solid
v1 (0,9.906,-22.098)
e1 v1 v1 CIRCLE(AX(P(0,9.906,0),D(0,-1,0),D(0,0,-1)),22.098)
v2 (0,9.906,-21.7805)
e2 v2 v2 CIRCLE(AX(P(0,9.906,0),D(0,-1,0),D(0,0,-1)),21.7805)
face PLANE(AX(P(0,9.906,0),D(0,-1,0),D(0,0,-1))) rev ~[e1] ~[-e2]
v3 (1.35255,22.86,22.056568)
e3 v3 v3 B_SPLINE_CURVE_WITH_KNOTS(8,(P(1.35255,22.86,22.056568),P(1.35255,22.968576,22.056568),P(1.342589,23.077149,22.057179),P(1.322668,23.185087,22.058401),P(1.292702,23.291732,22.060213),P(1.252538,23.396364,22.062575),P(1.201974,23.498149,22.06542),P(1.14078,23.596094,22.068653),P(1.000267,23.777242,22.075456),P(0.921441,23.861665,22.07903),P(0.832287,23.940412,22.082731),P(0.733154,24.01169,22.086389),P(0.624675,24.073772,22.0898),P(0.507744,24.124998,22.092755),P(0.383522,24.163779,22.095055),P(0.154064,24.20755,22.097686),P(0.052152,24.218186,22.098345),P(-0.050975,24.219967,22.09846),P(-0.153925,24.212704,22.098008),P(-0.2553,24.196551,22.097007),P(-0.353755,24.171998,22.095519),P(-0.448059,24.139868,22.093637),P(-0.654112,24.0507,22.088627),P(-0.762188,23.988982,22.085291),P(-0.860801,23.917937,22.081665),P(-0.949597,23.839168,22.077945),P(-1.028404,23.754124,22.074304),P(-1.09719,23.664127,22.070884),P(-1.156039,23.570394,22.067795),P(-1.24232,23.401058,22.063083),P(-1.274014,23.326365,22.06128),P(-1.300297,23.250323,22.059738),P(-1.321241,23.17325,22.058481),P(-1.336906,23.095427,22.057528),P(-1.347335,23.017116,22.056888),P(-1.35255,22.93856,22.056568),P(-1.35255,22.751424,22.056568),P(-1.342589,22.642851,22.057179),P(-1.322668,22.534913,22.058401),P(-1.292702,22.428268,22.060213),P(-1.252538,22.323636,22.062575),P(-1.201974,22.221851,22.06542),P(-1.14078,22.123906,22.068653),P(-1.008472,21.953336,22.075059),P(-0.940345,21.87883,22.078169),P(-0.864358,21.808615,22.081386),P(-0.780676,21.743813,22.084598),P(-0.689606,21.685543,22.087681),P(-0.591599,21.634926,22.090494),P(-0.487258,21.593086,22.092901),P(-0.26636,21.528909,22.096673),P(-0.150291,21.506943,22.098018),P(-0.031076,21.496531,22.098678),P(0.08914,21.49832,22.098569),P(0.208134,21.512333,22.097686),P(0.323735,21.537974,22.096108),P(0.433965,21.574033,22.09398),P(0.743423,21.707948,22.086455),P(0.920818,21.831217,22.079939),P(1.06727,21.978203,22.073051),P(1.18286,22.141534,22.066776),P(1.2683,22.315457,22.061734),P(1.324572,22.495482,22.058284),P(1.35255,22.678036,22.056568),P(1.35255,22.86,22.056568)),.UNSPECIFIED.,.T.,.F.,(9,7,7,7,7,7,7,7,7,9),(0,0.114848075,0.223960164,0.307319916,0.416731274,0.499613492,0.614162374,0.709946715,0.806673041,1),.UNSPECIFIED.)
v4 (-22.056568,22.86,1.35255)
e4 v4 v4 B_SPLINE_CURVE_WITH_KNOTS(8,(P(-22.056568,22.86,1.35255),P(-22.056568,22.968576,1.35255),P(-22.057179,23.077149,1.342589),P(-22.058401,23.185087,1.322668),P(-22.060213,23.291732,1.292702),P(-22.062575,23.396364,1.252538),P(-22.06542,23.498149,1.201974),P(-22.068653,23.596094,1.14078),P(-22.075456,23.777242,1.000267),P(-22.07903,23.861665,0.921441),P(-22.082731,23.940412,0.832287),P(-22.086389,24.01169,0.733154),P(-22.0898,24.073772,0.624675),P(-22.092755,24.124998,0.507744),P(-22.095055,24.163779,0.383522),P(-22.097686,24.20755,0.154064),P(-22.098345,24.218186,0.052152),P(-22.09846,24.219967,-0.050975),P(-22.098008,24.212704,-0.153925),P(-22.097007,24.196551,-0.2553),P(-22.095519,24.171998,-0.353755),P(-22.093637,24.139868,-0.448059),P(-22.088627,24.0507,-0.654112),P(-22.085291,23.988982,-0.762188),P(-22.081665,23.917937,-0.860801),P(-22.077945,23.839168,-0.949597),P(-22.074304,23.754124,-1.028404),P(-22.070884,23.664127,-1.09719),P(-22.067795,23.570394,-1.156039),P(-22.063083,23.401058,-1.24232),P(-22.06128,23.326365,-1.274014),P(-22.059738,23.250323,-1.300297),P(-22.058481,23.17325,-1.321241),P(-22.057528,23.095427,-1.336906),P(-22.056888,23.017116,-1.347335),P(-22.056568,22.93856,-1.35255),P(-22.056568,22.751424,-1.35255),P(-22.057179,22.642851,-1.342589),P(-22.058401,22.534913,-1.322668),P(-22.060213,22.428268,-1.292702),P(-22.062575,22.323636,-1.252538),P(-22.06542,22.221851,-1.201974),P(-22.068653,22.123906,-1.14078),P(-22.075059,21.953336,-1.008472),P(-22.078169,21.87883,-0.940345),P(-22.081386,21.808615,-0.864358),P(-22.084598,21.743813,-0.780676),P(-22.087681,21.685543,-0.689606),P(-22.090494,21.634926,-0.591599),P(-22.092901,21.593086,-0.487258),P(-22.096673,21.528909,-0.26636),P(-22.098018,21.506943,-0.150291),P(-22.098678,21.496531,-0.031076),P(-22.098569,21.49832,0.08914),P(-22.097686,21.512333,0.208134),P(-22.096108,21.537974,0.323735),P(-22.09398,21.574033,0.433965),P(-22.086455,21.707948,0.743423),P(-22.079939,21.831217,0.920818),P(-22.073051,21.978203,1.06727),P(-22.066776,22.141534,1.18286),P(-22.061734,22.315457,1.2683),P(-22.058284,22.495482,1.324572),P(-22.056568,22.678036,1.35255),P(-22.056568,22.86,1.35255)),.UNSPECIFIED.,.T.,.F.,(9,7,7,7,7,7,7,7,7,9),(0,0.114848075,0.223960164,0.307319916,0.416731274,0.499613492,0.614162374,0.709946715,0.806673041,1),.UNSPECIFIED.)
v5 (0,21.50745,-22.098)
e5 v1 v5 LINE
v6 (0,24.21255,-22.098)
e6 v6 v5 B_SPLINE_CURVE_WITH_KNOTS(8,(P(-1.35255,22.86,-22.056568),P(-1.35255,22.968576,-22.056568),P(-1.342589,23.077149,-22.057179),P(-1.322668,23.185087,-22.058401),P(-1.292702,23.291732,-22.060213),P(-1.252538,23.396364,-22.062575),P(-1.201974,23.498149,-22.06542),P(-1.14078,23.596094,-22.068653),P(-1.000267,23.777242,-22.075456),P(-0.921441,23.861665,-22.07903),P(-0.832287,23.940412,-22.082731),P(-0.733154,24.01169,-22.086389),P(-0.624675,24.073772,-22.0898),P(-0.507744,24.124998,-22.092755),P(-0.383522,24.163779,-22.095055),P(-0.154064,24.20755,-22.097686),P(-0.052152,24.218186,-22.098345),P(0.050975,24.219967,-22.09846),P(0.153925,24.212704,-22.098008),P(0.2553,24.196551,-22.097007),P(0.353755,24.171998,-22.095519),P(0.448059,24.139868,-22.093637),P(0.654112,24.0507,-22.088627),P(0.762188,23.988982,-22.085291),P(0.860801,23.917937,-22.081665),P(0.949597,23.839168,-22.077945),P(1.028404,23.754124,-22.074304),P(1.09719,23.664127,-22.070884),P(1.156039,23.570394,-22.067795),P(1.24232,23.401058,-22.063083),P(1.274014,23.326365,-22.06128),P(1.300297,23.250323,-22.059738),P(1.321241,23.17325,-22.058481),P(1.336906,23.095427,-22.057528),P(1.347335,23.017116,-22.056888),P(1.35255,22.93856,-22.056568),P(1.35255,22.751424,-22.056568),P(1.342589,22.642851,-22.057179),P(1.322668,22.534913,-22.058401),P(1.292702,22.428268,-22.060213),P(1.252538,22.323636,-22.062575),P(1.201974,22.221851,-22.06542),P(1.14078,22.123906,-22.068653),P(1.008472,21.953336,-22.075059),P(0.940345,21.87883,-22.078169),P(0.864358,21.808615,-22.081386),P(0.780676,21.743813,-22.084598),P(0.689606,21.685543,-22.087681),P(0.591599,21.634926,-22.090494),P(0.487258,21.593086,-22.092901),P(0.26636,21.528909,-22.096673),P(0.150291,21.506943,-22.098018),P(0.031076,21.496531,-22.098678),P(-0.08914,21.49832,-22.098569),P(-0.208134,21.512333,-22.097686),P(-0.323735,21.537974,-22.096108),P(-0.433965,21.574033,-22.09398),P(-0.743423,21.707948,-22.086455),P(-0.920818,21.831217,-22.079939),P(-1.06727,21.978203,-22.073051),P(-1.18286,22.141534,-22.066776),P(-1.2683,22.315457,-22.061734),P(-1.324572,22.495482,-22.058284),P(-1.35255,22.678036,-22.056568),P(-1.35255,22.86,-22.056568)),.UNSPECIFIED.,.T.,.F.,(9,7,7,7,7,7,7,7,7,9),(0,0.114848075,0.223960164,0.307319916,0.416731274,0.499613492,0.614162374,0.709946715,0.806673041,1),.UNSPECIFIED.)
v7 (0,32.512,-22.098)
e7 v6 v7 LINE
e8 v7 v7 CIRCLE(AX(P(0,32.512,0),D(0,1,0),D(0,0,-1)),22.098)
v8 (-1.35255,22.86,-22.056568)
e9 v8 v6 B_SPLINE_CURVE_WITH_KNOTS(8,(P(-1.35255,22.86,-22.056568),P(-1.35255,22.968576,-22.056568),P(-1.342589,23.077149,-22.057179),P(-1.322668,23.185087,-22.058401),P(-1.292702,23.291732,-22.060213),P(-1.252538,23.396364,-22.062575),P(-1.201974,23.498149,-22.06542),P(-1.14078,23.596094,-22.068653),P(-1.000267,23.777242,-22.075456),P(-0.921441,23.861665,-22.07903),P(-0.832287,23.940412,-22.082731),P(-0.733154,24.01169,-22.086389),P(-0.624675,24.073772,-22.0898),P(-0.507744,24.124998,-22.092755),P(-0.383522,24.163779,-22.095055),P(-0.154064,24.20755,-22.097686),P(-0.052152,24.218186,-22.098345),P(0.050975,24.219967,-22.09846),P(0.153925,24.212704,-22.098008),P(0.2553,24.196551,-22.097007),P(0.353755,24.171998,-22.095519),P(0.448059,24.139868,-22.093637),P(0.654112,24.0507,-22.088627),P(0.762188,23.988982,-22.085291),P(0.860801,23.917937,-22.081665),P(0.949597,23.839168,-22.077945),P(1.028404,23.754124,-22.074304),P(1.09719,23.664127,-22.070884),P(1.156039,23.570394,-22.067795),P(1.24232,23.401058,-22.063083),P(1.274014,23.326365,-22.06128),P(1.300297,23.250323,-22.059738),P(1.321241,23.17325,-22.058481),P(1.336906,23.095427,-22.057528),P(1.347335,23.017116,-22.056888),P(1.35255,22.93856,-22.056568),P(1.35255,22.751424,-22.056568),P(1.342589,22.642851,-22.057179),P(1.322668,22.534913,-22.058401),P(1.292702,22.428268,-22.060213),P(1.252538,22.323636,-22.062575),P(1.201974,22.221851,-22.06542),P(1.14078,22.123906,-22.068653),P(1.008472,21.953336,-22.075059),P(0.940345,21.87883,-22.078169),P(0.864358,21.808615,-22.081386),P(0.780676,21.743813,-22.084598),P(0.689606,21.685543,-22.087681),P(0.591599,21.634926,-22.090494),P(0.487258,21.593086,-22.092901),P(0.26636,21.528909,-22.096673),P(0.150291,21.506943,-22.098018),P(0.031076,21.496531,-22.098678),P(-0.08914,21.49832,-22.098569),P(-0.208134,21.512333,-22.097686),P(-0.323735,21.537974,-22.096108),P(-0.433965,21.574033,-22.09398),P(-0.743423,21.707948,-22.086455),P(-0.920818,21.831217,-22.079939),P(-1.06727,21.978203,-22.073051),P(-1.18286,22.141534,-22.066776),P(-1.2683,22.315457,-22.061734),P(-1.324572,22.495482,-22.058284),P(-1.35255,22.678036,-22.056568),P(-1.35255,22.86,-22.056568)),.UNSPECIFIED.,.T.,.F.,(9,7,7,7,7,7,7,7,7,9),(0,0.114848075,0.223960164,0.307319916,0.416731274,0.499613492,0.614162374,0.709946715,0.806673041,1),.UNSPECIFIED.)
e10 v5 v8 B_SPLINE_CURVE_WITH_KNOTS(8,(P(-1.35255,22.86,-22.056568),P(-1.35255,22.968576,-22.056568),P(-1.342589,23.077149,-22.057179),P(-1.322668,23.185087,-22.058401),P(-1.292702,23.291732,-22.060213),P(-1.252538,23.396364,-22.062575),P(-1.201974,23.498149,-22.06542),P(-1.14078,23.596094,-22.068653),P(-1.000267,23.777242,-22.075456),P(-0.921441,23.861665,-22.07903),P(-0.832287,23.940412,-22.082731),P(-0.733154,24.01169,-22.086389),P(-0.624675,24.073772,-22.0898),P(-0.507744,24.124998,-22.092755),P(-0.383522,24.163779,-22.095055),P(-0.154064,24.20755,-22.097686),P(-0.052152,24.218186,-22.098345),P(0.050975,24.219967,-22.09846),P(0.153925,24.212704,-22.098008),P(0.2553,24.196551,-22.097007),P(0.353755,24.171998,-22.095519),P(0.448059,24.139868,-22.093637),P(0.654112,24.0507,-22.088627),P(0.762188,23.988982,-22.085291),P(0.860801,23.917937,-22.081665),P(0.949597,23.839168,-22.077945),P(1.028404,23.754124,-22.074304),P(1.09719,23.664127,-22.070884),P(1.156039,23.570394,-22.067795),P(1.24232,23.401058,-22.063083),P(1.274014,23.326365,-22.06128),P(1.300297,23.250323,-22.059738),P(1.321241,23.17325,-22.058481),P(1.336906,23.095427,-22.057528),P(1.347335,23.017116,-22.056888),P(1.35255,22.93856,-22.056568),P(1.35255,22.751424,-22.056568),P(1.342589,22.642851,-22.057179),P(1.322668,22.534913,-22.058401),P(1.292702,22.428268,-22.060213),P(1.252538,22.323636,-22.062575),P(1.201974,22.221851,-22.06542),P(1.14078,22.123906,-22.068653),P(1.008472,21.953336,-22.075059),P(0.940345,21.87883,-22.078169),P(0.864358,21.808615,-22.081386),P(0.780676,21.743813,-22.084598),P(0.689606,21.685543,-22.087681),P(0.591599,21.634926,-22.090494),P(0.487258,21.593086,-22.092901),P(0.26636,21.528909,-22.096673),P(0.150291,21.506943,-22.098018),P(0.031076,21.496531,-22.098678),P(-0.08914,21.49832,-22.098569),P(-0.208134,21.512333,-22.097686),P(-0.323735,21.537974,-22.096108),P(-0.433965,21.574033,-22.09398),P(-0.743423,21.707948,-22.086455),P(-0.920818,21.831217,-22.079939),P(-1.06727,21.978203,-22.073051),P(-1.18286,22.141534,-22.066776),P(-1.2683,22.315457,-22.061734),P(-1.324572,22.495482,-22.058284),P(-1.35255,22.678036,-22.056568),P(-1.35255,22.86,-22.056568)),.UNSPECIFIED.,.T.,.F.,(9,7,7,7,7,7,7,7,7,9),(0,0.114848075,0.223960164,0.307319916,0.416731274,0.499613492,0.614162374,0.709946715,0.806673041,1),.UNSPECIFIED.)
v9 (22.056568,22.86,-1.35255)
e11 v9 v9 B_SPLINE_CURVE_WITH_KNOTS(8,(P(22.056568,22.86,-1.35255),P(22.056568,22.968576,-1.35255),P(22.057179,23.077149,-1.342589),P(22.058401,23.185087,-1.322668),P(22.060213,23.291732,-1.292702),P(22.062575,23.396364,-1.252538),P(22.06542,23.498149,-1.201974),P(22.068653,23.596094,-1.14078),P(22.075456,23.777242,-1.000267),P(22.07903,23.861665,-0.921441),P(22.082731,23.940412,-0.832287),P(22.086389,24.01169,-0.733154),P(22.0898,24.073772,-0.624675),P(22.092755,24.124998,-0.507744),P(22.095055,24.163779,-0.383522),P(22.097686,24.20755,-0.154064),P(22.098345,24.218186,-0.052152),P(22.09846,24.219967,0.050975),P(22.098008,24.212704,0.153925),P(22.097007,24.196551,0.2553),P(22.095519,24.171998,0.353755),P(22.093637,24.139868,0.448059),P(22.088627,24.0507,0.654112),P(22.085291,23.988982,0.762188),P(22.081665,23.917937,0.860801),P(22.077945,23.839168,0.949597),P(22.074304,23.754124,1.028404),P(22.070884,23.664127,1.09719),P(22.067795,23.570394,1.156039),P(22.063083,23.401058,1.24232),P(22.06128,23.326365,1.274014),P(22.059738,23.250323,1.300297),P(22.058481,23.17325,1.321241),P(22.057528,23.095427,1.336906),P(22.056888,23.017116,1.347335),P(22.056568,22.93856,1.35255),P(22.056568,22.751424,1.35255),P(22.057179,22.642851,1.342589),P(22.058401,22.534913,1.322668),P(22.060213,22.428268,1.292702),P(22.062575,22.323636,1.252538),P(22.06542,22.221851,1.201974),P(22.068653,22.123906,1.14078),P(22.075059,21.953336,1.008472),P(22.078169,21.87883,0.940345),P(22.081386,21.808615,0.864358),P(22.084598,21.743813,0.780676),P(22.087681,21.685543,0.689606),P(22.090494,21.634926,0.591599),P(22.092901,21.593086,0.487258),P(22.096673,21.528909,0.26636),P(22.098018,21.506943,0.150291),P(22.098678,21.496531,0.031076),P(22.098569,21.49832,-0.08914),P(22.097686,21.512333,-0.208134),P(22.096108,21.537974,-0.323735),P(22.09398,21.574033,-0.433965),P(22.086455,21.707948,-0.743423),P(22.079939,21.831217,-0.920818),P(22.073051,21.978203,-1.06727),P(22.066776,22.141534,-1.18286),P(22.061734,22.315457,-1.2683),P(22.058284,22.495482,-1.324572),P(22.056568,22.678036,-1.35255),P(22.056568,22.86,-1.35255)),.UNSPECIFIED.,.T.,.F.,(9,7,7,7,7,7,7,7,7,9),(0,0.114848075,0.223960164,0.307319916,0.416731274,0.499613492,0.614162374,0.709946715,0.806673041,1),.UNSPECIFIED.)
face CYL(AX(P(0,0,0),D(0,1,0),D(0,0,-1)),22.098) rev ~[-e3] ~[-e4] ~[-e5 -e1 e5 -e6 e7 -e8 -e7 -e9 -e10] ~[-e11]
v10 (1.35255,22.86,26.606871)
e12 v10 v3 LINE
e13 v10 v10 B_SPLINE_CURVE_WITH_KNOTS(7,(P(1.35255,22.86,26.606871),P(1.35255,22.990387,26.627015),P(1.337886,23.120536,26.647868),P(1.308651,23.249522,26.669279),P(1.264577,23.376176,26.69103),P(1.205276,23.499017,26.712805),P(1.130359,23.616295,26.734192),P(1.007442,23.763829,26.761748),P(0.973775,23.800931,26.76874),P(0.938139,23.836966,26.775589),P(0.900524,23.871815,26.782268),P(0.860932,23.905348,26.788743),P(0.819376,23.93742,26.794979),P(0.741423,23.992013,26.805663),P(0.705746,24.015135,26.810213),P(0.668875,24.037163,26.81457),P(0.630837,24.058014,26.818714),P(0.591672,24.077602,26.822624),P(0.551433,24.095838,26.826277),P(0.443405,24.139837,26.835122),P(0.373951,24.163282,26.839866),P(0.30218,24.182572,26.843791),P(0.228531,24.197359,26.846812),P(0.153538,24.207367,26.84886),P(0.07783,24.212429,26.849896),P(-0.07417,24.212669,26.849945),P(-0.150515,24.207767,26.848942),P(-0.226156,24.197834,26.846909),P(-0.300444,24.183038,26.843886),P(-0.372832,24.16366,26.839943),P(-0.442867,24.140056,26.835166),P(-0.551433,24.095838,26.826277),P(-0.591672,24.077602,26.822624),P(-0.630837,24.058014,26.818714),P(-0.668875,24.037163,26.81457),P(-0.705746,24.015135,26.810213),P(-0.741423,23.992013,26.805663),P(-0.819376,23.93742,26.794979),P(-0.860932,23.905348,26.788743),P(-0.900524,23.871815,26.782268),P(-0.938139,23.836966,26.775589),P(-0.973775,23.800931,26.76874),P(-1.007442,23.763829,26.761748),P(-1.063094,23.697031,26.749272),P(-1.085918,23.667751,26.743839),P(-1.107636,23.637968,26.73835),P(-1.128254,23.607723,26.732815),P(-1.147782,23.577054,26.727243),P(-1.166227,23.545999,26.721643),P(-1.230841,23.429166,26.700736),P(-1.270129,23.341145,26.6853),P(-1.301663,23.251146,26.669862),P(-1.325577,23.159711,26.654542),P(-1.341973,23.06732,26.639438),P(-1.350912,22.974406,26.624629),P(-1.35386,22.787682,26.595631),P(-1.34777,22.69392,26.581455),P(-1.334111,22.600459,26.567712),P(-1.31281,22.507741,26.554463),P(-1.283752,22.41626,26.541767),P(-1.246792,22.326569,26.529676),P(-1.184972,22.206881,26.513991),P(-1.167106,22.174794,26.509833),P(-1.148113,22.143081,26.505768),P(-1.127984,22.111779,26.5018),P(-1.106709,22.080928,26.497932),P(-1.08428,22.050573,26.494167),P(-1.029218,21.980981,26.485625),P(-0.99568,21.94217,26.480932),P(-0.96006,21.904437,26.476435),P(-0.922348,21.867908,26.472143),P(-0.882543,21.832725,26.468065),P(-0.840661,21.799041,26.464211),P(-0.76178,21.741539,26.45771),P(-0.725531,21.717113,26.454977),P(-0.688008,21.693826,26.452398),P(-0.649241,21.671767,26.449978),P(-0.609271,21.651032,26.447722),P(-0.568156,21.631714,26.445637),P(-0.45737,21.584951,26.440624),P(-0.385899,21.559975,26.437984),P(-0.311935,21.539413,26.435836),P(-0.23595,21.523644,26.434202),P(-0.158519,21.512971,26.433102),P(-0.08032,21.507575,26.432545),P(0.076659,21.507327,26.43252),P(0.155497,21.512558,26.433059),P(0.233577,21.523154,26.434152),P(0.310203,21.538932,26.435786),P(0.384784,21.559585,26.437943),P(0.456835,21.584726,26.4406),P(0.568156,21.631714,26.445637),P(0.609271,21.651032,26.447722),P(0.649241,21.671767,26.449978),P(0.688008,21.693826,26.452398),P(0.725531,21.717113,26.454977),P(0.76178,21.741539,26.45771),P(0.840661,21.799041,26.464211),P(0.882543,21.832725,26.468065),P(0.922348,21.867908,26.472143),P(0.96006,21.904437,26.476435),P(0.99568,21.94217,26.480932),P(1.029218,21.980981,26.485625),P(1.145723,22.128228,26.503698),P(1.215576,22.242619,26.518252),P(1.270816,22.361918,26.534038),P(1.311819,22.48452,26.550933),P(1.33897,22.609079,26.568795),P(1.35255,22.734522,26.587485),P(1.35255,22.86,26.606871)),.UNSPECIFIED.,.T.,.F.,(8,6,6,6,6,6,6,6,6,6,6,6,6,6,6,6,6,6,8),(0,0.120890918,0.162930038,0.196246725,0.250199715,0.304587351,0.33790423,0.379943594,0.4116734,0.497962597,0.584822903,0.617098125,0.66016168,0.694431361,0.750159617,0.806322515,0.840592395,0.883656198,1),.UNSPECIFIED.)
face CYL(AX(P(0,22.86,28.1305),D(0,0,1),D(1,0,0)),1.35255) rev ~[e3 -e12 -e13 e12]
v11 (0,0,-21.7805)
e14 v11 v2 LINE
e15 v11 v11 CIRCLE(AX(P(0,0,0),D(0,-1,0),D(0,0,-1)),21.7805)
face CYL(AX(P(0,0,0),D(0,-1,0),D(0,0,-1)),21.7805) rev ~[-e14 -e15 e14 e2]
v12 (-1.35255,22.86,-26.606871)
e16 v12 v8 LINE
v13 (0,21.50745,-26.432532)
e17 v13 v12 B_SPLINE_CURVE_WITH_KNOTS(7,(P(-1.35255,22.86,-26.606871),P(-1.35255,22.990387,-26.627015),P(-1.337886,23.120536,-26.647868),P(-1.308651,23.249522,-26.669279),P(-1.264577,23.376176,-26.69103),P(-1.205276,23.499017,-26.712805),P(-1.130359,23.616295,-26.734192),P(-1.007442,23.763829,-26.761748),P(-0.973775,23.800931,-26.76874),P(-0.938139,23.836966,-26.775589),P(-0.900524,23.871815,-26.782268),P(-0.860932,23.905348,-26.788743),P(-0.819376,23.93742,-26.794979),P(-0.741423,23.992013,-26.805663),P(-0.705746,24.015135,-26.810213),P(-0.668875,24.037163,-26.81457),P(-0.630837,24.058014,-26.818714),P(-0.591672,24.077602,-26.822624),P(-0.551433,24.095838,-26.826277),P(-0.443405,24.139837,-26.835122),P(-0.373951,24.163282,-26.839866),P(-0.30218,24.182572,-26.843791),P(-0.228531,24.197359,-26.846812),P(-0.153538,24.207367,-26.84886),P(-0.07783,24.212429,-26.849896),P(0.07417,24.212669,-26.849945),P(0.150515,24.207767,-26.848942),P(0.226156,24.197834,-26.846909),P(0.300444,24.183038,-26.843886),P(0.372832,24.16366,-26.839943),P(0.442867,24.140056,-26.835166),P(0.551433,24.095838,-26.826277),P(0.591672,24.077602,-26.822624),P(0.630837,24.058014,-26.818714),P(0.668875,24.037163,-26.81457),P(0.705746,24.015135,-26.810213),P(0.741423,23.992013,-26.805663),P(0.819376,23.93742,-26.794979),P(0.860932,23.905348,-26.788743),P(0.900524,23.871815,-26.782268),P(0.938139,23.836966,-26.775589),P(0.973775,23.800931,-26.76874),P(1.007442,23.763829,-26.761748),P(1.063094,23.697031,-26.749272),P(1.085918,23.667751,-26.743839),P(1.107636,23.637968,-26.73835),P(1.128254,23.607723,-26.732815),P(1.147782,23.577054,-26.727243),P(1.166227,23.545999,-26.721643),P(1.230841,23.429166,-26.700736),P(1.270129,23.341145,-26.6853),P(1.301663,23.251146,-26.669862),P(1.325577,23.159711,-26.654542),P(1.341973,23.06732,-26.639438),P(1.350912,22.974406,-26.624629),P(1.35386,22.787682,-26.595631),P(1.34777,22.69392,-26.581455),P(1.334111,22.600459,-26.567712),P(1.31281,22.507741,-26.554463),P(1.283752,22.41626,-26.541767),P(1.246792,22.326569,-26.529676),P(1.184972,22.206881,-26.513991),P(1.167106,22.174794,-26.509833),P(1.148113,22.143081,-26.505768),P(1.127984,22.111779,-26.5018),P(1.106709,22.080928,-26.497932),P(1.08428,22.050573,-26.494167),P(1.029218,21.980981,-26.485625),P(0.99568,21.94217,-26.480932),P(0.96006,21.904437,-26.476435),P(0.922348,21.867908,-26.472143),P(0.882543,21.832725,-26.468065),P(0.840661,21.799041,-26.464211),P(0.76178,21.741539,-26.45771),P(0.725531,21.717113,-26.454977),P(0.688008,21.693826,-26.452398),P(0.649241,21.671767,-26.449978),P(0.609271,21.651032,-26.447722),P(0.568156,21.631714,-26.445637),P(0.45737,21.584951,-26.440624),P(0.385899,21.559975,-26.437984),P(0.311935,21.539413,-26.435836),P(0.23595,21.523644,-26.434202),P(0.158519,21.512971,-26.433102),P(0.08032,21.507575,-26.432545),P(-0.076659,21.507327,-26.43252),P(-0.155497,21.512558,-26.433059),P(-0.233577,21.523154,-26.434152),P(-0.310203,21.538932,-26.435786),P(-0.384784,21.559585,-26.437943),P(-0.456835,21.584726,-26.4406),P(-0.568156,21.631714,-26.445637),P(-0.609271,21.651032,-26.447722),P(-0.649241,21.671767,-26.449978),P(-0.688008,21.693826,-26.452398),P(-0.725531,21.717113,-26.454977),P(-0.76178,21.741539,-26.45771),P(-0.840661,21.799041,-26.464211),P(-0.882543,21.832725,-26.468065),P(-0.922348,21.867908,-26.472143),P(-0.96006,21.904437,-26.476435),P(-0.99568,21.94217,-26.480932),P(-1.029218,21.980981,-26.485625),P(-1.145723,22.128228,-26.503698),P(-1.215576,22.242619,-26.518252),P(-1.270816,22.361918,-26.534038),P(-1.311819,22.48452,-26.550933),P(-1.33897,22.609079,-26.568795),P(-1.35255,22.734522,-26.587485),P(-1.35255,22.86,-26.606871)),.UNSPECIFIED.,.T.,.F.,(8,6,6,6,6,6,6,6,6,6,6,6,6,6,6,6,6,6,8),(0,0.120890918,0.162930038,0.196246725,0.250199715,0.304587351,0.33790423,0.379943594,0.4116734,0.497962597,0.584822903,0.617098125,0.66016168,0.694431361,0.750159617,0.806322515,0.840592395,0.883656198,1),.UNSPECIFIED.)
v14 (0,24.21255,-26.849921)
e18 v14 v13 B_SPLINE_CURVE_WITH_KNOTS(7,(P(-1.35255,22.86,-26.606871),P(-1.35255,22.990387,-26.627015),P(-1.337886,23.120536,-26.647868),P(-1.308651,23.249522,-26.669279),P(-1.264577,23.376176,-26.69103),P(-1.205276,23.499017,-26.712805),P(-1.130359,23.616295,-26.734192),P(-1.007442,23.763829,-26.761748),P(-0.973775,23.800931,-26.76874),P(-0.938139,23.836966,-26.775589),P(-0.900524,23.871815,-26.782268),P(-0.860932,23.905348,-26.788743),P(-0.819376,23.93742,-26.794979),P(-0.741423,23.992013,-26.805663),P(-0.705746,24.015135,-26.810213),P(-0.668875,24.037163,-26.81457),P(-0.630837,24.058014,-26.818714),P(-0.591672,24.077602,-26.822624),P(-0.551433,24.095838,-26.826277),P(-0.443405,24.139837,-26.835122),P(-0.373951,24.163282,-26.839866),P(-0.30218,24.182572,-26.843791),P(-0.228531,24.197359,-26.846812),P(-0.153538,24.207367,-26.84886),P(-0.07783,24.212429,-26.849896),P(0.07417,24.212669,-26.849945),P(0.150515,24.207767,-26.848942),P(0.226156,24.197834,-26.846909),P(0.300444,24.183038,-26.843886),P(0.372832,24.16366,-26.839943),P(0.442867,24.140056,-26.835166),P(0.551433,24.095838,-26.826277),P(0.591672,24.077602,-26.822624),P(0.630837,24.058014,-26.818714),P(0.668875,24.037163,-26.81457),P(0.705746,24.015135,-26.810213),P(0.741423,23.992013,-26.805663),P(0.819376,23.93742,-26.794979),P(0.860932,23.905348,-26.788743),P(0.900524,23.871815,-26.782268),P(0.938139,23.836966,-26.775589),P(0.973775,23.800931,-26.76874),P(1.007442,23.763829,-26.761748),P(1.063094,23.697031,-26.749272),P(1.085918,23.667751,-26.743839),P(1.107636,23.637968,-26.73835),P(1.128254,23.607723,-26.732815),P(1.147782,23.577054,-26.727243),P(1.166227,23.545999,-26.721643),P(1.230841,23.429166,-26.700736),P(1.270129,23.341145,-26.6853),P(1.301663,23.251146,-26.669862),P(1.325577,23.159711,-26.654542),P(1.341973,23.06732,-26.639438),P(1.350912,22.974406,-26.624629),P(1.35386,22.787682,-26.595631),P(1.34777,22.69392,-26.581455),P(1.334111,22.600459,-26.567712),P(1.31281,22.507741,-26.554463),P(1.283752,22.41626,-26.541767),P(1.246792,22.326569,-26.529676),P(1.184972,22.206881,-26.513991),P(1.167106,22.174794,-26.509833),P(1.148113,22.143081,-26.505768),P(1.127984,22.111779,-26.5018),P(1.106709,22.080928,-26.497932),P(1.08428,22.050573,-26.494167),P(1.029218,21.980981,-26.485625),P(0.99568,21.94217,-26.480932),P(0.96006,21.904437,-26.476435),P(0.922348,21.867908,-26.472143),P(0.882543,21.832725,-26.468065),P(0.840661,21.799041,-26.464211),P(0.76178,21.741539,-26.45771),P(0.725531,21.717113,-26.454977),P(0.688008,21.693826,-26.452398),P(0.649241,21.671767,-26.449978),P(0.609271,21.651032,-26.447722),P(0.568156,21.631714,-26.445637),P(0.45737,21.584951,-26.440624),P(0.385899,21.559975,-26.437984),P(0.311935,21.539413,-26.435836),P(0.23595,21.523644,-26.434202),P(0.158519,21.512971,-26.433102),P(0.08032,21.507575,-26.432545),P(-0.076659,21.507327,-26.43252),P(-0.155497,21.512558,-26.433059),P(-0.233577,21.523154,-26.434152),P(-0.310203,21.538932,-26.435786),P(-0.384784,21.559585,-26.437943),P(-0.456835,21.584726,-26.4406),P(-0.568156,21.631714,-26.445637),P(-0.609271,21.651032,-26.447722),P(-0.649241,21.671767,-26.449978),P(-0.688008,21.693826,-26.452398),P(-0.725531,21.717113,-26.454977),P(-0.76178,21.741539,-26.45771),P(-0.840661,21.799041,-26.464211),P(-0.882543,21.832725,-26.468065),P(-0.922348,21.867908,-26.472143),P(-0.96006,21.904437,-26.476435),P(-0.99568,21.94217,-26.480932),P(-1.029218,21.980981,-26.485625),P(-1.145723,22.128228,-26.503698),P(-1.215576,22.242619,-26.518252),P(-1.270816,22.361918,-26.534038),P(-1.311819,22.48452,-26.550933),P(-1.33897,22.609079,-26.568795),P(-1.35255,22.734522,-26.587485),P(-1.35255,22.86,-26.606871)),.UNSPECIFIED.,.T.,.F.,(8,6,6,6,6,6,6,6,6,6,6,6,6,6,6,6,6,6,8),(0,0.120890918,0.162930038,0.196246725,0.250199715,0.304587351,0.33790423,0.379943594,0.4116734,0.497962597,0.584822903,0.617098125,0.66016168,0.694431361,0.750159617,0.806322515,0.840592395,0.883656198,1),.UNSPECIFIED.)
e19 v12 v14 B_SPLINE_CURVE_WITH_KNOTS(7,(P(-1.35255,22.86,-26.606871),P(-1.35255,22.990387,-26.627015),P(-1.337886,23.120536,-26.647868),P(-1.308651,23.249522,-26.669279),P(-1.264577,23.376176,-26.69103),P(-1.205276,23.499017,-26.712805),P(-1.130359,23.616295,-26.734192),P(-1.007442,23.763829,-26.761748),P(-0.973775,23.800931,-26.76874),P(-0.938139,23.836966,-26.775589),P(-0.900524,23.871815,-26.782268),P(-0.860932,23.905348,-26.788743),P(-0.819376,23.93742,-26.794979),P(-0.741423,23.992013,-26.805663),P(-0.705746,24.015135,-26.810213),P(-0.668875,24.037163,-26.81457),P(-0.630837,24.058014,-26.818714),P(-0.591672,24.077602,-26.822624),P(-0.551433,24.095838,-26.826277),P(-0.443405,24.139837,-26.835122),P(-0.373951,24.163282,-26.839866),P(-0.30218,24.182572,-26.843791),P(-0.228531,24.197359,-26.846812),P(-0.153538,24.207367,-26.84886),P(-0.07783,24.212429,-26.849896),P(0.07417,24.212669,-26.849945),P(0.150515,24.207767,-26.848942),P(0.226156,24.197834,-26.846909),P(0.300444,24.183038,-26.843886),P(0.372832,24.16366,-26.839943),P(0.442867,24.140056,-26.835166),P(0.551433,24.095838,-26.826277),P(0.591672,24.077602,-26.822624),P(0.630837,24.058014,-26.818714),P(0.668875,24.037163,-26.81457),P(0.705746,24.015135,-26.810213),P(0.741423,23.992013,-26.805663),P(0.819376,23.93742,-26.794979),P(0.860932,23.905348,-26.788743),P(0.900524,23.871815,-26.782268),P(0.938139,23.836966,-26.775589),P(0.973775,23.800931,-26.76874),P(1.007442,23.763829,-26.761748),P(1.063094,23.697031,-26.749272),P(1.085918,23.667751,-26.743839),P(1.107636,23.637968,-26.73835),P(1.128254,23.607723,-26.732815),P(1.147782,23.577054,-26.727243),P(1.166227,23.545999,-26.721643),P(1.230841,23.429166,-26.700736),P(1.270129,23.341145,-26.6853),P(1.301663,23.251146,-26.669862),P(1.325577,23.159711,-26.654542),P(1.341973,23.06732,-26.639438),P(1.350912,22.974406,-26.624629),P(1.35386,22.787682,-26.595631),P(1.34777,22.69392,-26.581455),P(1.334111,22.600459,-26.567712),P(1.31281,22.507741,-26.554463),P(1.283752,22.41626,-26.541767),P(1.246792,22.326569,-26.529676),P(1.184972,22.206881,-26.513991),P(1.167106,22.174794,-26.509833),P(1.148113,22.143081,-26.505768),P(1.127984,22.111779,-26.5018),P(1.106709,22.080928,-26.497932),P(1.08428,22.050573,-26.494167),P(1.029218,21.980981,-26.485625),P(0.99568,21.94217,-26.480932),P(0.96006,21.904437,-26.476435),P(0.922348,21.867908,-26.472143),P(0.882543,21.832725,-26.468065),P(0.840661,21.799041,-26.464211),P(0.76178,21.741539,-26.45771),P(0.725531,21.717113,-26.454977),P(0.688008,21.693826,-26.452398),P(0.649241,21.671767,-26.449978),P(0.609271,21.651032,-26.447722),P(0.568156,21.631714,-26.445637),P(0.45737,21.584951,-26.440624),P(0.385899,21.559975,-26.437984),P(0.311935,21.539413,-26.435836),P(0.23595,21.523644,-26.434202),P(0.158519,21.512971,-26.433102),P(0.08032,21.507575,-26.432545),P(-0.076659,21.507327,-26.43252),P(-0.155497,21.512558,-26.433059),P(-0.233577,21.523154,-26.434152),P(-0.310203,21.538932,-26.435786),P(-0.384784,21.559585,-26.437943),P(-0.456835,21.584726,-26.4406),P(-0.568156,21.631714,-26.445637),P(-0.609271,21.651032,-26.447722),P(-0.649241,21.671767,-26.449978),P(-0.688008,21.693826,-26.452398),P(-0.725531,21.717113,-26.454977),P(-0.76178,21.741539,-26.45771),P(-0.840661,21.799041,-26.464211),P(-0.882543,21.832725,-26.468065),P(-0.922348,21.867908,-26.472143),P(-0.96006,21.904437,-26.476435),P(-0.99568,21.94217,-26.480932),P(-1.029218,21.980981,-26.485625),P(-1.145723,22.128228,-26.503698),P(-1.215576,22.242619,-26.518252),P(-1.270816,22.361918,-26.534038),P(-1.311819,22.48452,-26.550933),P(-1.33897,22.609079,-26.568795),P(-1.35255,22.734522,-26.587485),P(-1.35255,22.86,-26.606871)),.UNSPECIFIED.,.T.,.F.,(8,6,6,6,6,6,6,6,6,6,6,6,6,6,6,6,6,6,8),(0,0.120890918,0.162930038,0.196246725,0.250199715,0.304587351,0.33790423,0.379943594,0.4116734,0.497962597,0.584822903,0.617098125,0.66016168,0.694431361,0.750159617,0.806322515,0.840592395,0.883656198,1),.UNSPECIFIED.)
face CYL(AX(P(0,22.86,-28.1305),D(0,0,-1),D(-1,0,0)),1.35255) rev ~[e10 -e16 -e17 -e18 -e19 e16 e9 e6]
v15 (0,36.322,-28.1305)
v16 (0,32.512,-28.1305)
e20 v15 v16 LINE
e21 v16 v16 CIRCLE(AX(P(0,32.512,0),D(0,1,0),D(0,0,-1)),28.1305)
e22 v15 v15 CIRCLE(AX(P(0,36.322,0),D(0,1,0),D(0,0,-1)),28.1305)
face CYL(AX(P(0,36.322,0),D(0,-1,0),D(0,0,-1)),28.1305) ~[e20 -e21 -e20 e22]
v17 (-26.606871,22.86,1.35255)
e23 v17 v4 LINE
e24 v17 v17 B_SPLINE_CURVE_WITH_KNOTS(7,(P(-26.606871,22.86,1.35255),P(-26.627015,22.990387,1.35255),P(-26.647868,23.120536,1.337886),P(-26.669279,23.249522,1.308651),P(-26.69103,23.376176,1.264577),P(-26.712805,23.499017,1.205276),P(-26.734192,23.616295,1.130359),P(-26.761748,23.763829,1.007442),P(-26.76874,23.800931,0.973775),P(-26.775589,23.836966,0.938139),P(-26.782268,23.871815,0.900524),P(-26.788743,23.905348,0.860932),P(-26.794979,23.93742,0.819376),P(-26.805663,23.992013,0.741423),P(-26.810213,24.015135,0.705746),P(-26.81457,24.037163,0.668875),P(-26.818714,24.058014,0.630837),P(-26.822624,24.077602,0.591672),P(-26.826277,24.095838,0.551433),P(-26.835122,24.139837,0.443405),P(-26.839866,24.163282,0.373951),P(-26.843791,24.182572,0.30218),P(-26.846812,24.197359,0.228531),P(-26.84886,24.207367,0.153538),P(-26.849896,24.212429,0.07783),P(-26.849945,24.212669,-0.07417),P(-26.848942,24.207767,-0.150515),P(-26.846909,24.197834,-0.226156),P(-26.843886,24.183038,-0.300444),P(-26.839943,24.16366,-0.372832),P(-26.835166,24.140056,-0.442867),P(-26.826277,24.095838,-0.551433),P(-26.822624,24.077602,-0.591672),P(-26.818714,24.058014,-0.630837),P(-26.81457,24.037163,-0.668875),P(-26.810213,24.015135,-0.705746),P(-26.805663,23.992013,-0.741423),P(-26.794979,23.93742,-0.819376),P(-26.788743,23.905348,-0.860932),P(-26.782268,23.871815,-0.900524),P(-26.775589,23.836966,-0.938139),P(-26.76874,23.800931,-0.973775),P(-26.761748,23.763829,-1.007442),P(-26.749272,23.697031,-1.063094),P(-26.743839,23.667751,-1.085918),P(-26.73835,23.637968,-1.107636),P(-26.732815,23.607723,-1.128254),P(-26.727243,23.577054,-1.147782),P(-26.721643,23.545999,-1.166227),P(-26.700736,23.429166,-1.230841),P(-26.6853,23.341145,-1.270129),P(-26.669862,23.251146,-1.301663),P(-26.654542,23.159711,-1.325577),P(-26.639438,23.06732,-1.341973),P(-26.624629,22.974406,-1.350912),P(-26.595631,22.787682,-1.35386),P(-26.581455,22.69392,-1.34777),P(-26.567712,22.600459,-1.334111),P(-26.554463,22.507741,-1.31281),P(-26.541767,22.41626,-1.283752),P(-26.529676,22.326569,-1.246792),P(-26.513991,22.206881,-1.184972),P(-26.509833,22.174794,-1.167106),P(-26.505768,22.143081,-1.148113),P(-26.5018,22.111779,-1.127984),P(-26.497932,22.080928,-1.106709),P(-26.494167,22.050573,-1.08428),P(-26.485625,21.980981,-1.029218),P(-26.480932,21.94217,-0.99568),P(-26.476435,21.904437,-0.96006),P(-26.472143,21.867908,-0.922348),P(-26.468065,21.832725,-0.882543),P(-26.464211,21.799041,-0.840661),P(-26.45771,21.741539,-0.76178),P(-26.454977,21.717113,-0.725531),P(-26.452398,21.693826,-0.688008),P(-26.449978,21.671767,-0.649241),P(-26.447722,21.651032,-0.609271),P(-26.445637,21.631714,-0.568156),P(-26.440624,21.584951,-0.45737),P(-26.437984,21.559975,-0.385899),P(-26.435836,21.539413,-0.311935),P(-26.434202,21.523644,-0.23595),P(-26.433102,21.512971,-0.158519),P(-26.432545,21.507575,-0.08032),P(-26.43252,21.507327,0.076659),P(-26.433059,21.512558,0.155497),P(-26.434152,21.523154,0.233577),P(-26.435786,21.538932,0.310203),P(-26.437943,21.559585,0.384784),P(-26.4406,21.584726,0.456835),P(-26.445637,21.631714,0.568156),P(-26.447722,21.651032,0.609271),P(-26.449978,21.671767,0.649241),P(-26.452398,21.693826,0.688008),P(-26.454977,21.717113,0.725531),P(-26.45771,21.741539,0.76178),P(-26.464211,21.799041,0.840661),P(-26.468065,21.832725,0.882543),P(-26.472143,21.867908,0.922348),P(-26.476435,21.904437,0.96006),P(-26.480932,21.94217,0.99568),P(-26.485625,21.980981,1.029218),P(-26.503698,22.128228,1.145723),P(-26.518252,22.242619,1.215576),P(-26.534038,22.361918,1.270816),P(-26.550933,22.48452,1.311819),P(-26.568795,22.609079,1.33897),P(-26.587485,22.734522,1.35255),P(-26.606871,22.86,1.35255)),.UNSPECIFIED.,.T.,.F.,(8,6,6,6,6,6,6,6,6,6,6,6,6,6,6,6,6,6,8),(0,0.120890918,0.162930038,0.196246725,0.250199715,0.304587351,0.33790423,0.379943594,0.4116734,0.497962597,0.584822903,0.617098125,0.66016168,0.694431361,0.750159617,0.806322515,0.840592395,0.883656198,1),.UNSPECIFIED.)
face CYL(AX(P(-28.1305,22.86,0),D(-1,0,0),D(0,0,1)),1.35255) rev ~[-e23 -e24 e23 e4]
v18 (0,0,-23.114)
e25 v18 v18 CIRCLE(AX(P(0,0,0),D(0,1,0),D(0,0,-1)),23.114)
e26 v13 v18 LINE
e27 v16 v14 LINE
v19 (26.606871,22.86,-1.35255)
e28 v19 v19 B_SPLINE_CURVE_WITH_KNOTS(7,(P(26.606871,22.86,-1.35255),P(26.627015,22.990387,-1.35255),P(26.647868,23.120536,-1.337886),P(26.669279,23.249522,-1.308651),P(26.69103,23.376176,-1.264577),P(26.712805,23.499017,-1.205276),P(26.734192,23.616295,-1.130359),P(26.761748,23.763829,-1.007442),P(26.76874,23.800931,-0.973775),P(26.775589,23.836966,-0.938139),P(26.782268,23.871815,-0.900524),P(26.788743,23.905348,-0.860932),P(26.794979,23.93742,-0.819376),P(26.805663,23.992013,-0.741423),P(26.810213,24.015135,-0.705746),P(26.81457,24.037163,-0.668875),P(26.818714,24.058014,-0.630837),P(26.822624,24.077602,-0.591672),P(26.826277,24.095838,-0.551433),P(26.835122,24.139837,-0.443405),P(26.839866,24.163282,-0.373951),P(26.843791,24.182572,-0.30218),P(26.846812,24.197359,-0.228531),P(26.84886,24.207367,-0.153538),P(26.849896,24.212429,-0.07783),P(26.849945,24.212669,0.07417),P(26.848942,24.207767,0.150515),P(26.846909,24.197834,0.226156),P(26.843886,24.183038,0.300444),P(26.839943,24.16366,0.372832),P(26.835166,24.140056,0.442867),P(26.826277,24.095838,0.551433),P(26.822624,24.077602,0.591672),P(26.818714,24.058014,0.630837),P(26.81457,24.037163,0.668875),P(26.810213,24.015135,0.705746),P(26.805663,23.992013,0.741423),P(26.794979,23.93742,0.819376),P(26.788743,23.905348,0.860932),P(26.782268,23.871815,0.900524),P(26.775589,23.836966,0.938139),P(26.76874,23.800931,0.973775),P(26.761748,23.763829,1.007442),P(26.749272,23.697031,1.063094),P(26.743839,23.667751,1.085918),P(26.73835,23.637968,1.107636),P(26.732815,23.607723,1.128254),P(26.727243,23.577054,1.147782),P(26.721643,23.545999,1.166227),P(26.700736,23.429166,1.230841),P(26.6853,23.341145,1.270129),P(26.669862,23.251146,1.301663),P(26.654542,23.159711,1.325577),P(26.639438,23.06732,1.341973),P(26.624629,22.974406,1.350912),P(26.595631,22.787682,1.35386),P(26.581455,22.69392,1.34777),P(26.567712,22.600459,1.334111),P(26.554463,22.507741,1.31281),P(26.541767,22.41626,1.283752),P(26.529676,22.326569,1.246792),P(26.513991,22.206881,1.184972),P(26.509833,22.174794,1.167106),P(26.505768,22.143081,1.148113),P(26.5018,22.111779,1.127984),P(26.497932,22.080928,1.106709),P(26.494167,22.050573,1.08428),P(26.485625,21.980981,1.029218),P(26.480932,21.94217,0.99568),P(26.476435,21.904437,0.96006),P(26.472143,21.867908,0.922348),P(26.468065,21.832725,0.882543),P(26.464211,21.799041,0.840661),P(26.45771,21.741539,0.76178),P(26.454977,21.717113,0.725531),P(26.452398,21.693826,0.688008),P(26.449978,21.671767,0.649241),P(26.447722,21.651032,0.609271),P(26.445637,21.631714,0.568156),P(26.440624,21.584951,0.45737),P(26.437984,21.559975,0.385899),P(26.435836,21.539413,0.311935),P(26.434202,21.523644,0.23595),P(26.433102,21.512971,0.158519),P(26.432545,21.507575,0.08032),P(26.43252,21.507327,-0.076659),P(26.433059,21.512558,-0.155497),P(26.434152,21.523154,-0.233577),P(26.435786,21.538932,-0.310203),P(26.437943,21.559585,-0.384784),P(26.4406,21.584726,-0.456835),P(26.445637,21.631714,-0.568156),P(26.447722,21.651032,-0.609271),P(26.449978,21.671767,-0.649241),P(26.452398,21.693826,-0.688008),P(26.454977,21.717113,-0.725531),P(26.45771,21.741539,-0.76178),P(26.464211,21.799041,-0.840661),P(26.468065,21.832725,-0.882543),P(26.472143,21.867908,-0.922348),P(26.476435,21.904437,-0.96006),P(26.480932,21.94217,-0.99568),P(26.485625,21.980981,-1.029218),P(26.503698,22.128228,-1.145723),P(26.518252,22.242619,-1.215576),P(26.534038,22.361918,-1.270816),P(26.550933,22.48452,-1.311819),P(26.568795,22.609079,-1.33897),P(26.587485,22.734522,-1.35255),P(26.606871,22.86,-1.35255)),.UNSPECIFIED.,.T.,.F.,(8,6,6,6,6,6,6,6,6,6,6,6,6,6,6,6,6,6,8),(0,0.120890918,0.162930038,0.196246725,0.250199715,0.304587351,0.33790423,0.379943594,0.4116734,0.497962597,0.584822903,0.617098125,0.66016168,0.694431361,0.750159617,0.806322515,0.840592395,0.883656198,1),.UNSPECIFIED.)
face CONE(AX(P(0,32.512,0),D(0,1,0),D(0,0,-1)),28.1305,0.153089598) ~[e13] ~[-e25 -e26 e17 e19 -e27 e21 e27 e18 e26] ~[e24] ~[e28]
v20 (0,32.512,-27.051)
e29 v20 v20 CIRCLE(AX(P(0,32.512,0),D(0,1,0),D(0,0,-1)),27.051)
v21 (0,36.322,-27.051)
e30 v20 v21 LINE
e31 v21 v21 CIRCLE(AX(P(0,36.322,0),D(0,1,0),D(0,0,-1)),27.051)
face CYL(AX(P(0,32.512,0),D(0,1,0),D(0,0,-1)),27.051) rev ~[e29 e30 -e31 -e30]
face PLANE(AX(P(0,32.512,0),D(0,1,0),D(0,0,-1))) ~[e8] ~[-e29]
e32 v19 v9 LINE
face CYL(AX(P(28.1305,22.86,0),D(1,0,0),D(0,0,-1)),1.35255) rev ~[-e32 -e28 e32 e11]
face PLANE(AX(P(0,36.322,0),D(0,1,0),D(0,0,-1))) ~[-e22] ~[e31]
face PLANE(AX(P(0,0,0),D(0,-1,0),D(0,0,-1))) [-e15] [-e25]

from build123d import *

# Parameters (mm, degrees)
F_6_32_TAPPED_HOLE1_REACH  = 74.635
F_6_32_TAPPED_HOLE1_BORE_R = 1.35255
CIRPATTERN2_COUNT          = 4
SKETCH6_R                  = 22.098
SKETCH6_R_2                = 21.7805
BOSS_EXTRUDE1_DEPTH        = 9.906


with BuildPart() as part:
    # Sketch1 → Revolve1 (revolve)
    with BuildSketch(Plane.XY, mode=Mode.PRIVATE) as revolve1_sk:
        Polygon((28.1305, 36.322), (28.1305, 32.512), (23.114, 0), (22.098, 0), (22.098, 32.512), (27.051, 32.512), (27.051, 36.322), align=None)
    revolve(revolve1_sk.sketch.rotate(Axis((0, -2.3241, 0), (0, 1, 0)), 90), axis=Axis((0, -2.3241, 0), (0, 1, 0)))

    # #6-32 Tapped Hole1 bore → #6-32 Tapped Hole1 (cut, up to next)
    with BuildSketch(Plane.XY.offset(28.1305), mode=Mode.PRIVATE) as f_6_32_tapped_hole1_sk1:
        with Locations((0, 22.86)):
            Circle(F_6_32_TAPPED_HOLE1_BORE_R)
    f_6_32_tapped_hole1_tool1 = extrude(f_6_32_tapped_hole1_sk1.sketch, amount=-F_6_32_TAPPED_HOLE1_REACH, mode=Mode.PRIVATE) & part.part
    f_6_32_tapped_hole1 = f_6_32_tapped_hole1_tool1.solids().sort_by_distance((0, 22.86, 28.1305))[0]
    add(f_6_32_tapped_hole1, mode=Mode.SUBTRACT)

    # CirPattern2: #6-32 Tapped Hole1 ×4 about axis
    cirpattern2_axis = Axis((0, 0, 0), (0, 1, 0))
    for i in range(1, CIRPATTERN2_COUNT):
        add(f_6_32_tapped_hole1.rotate(cirpattern2_axis, i * 360 / CIRPATTERN2_COUNT), mode=Mode.SUBTRACT)

    # Sketch6 → Boss-Extrude1 (add)
    with BuildSketch(Plane.XZ):
        with Locations(Location((0, 0, 0), (0, 0, 270))):
            Circle(SKETCH6_R)
        with Locations(Location((0, 0, 0), (0, 0, 270))):
            Circle(SKETCH6_R_2, mode=Mode.SUBTRACT)
    extrude(amount=-BOSS_EXTRUDE1_DEPTH)


solid = part.part
